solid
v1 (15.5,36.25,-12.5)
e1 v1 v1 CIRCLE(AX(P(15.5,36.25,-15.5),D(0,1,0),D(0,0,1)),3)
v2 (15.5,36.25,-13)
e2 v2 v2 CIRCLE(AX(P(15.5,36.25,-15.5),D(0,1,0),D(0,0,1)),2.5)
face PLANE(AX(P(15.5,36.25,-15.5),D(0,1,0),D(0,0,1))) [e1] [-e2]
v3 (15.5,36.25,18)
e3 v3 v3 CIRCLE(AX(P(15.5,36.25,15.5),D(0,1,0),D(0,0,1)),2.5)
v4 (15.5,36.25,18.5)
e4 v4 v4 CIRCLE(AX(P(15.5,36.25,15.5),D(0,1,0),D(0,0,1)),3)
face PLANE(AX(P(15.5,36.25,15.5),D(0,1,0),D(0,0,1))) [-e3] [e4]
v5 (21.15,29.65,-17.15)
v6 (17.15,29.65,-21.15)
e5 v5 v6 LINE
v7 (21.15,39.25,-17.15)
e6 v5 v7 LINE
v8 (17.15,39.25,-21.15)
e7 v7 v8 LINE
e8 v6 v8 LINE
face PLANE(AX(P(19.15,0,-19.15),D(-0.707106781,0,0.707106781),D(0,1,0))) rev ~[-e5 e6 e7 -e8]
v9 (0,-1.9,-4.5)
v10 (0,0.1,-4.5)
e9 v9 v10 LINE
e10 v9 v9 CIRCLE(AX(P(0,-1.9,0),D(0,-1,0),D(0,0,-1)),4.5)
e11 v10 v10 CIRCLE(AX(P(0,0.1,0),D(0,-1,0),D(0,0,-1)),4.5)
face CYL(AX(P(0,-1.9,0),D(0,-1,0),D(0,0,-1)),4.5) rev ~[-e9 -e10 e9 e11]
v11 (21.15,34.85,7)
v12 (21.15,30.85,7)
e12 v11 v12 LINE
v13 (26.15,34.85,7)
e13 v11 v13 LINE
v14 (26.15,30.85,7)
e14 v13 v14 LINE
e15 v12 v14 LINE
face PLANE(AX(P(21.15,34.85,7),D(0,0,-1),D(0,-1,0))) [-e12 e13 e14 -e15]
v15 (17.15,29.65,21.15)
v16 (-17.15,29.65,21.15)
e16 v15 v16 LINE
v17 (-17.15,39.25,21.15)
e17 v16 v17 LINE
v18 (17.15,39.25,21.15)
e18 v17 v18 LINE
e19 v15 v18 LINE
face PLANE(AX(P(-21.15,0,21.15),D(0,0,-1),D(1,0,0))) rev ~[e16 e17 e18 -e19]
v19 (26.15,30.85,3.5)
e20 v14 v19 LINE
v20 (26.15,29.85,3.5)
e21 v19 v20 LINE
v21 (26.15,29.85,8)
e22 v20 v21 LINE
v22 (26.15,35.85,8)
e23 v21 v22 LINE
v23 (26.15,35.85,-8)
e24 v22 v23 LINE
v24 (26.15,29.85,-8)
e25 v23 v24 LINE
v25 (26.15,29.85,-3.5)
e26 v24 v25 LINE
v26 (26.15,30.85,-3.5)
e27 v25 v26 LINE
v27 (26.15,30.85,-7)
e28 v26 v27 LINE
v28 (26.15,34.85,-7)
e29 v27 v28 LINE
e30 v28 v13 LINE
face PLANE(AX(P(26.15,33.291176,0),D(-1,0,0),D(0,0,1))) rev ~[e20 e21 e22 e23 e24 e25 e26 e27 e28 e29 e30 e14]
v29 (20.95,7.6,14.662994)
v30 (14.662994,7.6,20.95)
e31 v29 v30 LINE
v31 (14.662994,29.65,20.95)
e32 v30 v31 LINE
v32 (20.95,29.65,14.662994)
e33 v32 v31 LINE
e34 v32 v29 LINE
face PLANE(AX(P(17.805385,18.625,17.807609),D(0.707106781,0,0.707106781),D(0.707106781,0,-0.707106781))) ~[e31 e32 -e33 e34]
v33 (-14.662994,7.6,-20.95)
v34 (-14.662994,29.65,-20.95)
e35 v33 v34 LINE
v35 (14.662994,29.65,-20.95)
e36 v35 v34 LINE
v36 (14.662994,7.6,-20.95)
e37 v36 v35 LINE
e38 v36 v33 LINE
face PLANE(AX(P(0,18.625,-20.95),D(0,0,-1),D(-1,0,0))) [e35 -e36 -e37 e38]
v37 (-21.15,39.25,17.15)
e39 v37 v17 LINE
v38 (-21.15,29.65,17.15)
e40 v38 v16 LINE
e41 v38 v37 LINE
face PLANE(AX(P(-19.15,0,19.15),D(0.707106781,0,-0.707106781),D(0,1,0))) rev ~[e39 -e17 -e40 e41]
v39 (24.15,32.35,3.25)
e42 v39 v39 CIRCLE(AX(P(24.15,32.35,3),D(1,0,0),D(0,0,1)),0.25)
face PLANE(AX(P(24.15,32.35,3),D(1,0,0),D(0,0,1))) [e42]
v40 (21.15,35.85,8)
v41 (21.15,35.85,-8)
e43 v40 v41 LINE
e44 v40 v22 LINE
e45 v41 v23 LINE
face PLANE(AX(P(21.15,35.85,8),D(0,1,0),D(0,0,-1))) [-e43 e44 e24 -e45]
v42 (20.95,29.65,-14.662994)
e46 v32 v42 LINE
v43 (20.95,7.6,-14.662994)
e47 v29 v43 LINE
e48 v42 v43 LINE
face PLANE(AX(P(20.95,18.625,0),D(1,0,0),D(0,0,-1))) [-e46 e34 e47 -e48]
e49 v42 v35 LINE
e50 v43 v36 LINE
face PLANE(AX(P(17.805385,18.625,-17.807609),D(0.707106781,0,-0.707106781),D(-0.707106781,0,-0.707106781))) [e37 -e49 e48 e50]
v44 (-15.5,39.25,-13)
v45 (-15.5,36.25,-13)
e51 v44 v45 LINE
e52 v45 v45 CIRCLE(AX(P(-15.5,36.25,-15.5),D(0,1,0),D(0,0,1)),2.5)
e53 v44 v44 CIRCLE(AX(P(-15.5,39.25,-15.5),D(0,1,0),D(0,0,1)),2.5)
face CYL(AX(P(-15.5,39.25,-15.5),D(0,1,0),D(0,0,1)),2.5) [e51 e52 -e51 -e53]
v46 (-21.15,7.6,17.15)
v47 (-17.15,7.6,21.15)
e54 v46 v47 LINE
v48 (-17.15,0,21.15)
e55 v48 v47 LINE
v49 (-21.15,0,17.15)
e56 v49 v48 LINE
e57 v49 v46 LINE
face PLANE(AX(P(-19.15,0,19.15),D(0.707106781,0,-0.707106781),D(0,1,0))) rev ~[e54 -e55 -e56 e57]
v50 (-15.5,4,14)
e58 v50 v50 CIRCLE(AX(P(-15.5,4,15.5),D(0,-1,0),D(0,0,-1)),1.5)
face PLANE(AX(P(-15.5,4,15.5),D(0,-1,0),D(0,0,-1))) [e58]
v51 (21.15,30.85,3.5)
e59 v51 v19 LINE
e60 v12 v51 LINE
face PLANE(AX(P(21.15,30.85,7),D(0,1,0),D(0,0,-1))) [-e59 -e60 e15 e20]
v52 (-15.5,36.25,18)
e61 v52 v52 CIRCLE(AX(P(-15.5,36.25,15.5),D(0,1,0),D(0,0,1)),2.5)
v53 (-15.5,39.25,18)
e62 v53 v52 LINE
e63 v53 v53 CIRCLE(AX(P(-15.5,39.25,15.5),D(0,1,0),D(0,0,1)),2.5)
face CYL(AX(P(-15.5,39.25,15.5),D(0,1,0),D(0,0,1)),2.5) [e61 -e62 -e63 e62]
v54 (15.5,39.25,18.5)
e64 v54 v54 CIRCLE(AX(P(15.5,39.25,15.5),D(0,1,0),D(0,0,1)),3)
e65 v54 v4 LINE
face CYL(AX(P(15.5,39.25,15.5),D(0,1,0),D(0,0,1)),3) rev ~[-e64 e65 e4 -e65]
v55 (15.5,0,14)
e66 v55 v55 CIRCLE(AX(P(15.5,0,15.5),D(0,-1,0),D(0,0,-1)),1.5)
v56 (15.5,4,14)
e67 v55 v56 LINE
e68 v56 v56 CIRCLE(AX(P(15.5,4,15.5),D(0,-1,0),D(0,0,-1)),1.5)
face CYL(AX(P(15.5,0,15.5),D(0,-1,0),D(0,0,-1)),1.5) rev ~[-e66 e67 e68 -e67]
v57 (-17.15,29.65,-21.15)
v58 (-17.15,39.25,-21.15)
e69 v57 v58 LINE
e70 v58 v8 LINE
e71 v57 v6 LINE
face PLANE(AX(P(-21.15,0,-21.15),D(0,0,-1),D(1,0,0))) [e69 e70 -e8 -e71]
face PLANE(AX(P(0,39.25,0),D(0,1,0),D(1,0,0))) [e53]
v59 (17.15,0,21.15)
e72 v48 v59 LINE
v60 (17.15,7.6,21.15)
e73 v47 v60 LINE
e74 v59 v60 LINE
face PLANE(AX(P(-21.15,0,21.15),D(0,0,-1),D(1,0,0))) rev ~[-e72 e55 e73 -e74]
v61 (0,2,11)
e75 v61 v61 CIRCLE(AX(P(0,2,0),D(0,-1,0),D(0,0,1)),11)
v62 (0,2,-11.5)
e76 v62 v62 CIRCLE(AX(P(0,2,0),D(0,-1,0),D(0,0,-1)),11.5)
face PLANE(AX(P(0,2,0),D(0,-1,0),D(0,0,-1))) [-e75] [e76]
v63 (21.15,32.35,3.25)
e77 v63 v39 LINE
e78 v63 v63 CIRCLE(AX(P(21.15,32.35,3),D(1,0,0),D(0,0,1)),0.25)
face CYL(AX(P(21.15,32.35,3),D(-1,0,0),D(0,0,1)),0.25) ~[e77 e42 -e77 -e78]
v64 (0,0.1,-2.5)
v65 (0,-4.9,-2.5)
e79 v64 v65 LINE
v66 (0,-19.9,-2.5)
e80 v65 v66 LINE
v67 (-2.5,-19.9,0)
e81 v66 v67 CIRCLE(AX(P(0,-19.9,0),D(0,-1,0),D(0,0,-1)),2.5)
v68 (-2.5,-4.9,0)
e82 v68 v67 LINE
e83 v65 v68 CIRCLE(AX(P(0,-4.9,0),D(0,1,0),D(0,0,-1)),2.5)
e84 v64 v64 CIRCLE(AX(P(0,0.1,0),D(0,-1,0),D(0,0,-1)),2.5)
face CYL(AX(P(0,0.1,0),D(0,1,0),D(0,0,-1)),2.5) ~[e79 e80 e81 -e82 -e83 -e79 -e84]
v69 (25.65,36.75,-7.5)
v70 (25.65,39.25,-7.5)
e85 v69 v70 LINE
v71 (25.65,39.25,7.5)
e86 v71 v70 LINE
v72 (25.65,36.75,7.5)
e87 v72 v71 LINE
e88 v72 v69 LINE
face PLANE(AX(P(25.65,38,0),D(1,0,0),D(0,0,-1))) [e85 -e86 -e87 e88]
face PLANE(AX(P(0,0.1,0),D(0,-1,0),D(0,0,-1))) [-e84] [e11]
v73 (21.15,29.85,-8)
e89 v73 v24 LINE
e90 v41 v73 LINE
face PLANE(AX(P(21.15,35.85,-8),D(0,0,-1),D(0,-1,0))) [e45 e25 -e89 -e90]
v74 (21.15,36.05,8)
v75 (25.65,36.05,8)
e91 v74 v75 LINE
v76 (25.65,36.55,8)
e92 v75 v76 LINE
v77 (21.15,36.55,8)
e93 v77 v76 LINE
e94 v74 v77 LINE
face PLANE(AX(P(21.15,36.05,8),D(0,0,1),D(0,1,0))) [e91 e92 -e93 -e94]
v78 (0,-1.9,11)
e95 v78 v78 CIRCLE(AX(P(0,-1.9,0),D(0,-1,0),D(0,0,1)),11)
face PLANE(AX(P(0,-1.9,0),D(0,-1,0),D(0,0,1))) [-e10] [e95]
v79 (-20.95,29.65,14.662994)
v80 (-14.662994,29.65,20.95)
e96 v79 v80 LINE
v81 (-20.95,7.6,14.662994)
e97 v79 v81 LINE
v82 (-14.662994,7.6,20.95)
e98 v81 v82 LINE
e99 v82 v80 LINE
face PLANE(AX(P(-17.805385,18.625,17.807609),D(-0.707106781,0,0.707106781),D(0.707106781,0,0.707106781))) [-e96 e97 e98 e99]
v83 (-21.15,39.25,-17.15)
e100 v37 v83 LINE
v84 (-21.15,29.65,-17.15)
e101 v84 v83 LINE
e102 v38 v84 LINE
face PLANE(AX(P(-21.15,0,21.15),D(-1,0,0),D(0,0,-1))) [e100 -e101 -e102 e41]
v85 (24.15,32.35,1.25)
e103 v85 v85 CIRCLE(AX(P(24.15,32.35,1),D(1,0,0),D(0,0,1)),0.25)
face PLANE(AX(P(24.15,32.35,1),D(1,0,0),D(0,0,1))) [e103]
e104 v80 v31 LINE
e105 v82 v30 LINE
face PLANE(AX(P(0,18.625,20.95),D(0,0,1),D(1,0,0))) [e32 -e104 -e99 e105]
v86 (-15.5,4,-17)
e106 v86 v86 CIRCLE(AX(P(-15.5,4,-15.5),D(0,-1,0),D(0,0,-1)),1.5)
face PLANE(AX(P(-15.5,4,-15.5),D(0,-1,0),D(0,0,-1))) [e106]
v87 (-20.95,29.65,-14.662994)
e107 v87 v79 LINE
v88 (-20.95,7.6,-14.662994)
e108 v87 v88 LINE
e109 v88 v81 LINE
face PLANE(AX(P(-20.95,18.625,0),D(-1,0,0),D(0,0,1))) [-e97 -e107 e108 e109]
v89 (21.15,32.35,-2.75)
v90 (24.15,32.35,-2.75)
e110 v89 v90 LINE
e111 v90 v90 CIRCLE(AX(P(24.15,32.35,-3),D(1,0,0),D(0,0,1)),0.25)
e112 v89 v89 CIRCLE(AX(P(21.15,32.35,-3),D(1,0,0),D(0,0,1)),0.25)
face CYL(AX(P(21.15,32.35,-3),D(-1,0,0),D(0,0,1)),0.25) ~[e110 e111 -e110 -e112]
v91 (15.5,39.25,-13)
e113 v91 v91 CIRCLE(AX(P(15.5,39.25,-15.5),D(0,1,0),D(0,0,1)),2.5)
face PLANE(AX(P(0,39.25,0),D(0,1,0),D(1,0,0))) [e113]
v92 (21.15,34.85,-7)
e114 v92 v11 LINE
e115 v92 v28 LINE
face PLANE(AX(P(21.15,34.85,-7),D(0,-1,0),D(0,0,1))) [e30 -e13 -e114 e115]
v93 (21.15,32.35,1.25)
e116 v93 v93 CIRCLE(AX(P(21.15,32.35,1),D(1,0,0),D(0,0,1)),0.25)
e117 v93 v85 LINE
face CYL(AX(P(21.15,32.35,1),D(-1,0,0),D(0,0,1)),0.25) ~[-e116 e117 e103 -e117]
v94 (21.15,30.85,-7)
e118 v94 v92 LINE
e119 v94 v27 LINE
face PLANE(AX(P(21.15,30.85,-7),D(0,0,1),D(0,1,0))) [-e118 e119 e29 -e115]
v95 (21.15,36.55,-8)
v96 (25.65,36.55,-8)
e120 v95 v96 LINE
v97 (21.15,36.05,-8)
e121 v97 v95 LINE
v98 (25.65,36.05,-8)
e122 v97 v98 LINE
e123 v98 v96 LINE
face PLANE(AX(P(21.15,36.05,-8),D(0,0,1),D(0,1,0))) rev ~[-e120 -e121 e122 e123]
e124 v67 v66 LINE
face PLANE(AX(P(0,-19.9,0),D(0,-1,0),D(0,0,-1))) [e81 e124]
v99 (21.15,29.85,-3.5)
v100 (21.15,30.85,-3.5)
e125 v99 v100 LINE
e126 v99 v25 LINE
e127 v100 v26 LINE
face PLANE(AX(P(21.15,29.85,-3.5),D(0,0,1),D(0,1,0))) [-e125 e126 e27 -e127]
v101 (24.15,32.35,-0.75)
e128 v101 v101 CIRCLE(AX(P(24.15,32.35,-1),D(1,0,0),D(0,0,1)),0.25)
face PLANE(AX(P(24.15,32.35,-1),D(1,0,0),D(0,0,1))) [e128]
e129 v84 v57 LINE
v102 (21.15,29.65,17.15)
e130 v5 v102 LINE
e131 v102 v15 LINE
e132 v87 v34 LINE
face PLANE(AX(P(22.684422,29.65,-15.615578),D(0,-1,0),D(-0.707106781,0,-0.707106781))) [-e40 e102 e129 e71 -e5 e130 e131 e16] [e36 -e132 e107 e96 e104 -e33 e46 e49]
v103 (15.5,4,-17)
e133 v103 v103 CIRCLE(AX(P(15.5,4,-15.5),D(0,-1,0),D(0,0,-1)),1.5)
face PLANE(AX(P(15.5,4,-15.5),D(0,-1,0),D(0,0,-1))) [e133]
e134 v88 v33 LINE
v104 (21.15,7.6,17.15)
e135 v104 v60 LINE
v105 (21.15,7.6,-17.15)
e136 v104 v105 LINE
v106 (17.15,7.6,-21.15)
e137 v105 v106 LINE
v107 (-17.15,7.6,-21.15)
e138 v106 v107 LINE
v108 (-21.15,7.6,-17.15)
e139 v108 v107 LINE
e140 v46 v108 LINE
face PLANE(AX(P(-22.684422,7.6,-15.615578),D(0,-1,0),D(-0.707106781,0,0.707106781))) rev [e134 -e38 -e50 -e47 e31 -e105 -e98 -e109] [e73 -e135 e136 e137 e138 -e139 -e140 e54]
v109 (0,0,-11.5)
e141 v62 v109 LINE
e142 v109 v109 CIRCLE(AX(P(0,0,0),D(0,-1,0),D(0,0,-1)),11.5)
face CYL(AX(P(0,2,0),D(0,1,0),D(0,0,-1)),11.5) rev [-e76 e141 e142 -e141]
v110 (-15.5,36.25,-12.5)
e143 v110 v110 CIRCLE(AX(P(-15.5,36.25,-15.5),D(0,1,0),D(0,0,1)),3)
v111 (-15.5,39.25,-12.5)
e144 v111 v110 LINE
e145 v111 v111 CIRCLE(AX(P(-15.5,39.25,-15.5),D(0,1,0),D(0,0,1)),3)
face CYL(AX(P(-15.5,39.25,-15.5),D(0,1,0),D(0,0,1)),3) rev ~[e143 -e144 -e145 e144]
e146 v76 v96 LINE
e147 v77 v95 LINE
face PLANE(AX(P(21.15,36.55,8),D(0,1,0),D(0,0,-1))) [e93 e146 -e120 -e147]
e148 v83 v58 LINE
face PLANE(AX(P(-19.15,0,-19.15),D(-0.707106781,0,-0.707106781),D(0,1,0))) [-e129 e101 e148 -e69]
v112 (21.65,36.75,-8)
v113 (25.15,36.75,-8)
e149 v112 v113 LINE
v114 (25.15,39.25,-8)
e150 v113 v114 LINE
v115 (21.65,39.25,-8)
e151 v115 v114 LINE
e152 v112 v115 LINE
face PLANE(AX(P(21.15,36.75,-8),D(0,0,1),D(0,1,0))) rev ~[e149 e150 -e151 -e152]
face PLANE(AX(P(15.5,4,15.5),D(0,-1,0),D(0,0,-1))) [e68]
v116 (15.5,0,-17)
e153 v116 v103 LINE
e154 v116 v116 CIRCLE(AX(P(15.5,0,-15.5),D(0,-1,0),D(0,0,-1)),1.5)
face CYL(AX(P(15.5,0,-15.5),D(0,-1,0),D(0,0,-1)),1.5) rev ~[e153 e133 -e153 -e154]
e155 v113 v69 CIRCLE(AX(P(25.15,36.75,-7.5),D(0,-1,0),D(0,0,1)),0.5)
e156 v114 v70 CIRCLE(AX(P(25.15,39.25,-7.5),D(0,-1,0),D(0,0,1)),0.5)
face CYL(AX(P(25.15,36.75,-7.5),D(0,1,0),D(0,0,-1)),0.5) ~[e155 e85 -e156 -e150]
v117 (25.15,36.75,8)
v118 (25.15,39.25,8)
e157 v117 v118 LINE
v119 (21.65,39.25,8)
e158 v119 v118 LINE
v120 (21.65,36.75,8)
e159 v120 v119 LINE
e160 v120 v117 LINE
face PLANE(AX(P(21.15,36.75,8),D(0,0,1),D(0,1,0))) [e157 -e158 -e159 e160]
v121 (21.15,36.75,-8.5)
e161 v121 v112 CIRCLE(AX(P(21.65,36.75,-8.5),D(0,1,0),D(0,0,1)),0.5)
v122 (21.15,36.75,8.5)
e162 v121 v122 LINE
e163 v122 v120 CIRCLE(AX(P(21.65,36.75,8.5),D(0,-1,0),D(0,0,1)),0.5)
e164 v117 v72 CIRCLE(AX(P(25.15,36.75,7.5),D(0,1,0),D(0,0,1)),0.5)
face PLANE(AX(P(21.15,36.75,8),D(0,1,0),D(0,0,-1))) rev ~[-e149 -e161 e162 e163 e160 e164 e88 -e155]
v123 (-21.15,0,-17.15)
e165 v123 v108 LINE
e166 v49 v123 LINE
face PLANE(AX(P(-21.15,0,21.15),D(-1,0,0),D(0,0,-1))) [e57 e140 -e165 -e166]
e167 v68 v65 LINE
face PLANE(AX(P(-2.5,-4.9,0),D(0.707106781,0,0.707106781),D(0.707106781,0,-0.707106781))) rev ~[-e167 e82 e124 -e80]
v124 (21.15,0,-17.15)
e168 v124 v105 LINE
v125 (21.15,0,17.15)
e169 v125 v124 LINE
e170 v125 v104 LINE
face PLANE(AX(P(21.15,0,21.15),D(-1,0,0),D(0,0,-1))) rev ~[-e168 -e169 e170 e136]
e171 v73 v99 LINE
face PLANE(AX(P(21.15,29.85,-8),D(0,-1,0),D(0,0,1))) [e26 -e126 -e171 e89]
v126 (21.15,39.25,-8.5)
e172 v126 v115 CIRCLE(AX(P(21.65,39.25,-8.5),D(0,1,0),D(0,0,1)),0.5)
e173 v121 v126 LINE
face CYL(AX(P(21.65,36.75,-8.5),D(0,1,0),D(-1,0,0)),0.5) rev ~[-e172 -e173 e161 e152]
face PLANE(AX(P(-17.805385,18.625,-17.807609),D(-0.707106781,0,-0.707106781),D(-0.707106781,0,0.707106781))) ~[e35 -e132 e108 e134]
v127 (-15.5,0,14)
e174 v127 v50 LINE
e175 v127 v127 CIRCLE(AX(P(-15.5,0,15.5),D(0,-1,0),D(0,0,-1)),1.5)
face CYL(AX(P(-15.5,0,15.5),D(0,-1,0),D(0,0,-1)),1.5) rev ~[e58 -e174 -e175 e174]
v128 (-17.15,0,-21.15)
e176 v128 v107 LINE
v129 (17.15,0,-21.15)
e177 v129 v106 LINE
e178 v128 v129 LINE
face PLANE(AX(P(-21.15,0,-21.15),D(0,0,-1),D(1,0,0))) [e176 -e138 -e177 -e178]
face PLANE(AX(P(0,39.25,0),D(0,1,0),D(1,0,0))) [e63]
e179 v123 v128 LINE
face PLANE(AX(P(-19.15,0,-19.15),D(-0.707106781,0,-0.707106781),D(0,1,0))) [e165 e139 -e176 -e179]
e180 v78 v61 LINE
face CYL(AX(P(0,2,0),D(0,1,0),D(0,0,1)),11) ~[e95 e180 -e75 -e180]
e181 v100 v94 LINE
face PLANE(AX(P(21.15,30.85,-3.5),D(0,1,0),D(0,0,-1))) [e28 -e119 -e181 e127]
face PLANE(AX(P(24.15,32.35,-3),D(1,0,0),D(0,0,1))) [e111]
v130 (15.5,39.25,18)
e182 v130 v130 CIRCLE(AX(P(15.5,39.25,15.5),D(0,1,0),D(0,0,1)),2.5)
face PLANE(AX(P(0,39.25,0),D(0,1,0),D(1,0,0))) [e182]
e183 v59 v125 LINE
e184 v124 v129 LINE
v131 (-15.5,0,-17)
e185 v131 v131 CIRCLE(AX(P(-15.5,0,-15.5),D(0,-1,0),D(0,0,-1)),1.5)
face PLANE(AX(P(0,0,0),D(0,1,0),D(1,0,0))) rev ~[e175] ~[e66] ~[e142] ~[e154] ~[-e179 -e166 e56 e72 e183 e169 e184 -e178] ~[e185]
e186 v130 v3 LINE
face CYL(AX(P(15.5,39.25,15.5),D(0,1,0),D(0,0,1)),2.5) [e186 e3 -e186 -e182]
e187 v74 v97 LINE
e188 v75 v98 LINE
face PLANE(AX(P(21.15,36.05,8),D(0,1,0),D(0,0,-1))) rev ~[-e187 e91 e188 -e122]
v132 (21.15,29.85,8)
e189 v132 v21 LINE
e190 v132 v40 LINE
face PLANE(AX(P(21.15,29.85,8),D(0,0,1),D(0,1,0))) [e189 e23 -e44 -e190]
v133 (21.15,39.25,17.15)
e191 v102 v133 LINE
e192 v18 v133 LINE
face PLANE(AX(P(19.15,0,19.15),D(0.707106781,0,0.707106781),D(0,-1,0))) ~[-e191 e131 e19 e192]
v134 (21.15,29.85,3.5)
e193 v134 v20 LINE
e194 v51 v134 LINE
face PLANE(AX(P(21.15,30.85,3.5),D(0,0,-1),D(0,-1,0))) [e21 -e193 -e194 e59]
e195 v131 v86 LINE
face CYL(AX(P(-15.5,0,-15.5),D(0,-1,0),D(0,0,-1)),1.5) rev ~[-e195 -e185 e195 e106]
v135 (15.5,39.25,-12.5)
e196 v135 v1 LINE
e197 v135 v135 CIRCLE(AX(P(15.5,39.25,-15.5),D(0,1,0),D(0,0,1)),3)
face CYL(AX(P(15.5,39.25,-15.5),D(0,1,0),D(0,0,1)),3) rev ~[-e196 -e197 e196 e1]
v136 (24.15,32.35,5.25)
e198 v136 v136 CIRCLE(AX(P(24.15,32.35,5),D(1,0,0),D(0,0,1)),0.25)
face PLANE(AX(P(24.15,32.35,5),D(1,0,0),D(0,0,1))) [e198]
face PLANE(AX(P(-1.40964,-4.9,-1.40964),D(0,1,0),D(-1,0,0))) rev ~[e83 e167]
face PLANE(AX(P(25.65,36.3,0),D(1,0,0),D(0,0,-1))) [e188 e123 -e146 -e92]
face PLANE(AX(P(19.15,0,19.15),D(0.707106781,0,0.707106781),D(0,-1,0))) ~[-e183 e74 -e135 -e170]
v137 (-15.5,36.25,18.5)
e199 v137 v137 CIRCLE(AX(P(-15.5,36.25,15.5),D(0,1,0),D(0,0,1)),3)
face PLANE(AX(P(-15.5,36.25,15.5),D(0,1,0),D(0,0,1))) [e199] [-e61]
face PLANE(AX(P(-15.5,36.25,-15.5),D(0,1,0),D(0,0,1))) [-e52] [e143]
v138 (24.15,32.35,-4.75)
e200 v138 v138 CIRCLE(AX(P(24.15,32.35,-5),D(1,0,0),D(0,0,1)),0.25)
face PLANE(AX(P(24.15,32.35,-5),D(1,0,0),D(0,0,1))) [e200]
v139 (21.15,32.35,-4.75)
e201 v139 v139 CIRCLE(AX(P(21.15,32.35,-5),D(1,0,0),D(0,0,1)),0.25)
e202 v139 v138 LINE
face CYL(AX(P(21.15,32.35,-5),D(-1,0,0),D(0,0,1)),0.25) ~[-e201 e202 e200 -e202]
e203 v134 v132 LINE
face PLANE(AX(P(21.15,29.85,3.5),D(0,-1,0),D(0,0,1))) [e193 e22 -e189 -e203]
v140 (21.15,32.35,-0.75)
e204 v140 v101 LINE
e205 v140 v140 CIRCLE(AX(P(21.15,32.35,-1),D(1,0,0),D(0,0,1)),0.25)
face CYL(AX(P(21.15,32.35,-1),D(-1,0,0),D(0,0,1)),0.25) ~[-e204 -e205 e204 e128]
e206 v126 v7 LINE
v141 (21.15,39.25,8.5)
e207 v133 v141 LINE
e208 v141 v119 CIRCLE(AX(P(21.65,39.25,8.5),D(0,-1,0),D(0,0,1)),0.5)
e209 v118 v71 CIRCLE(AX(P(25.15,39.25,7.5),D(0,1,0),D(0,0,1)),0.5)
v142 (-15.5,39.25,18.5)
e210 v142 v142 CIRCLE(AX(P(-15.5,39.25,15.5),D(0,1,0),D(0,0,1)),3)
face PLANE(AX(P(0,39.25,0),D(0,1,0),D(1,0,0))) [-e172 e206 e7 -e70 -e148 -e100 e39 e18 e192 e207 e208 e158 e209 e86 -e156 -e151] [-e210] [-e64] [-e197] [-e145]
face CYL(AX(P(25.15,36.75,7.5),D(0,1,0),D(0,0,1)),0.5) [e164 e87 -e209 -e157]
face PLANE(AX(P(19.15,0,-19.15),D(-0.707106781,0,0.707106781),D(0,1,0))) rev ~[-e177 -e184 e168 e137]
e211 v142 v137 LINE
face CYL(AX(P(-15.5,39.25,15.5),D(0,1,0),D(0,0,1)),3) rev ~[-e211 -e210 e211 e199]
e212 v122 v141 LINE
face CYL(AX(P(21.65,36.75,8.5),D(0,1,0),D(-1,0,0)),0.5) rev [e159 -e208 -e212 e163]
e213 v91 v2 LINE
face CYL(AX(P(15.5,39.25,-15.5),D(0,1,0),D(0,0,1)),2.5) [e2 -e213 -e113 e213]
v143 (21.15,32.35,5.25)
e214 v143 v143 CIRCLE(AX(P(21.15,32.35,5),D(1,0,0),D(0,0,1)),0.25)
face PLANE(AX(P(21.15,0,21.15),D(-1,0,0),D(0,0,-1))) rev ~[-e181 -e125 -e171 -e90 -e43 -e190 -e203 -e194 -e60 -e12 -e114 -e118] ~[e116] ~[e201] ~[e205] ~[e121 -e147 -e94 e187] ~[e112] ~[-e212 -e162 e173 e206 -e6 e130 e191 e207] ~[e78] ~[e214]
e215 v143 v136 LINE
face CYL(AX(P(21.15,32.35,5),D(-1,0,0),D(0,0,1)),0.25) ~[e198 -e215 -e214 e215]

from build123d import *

# Parameters (mm, degrees)
SKETCH1_W               = 42.3
SKETCH1_H               = 42.3
BOSS_EXTRUDE1_DEPTH     = 39.25
CHAMFER1_SIZE           = 4
SKETCH2_W               = 10
SKETCH2_H               = 22.05
CUT_EXTRUDE1_DEPTH      = 1.9
MIRROR2_COPY_1_SKETCH_W = 10
MIRROR2_COPY_1_SKETCH_H = 22.05
MIRROR2_COPY_1_DEPTH    = 1.9
SKETCH3_R               = 11
BOSS_EXTRUDE2_DEPTH     = 1.9
CUT_EXTRUDE2_START      = -2
SKETCH4_R               = 11.5
SKETCH4_R_2             = 11
CUT_EXTRUDE2_DEPTH      = 2
SKETCH5_R               = 4.5
CUT_EXTRUDE3_DEPTH      = 2
SKETCH6_R               = 2.5
BOSS_EXTRUDE3_DEPTH     = 20
CUT_EXTRUDE4_START      = -15
CUT_EXTRUDE4_DEPTH      = 15
SKETCH8_R               = 1.5
CUT_EXTRUDE5_DEPTH      = 4
SKETCH10_W              = 30.925988462
SKETCH10_H              = 22.05
CUT_EXTRUDE6_DEPTH      = 0.2
CIRPATTERN1_COUNT       = 4
SKETCH11_W              = 16
SKETCH11_H              = 2.5
BOSS_EXTRUDE4_DEPTH     = 4.5
FILLET1_R               = 0.5
SKETCH12_W              = 16
SKETCH12_H              = 0.5
BOSS_EXTRUDE5_DEPTH     = 4.5
BOSS_EXTRUDE6_DEPTH     = 5
SKETCH14_R              = 0.25
BOSS_EXTRUDE7_DEPTH     = 3
SKETCH15_R              = 3
SKETCH15_R_2            = 2.5
CUT_EXTRUDE7_DEPTH      = 3


with BuildPart() as part:
    # Sketch1 → Boss-Extrude1 (new body)
    with BuildSketch(Plane(origin=(0, 0, 0), x_dir=(1, 0, 0), z_dir=(0, 1, 0))):
        Rectangle(SKETCH1_W, SKETCH1_H)
    extrude(amount=BOSS_EXTRUDE1_DEPTH)

    # Chamfer1
    chamfer1_edges = [part.edges().sort_by_distance(p)[0] for p in [
        (21.15, 19.625, 21.15),
        (-21.15, 19.625, 21.15),
        (-21.15, 19.625, -21.15),
        (21.15, 19.625, -21.15),
    ]]
    chamfer(chamfer1_edges, length=CHAMFER1_SIZE)

    # Sketch2 → Cut-Extrude1 (cut)
    with BuildSketch(Plane(origin=(19.15, 0, -19.15), x_dir=(-0.7071067811865462, 0, -0.7071067811865488), z_dir=(0.7071067811865488, 0, -0.7071067811865462))):
        with Locations((0.001572875, 18.625)):
            Rectangle(SKETCH2_W, SKETCH2_H)
    cut_extrude1 = extrude(amount=-CUT_EXTRUDE1_DEPTH, mode=Mode.SUBTRACT)

    # Mirror1: Cut-Extrude1 across plane
    add(cut_extrude1.mirror(Plane.XY), mode=Mode.SUBTRACT)

    # Mirror2: Cut-Extrude1 across plane
    add(cut_extrude1.mirror(Plane(origin=(0, 0, 0), x_dir=(0, 0, 1), z_dir=(1, 0, 0))), mode=Mode.SUBTRACT)

    # Mirror2 copy 1 sketch → Mirror2 copy 1 (cut)
    with BuildSketch(Plane(origin=(-19.15, 0, 19.15), x_dir=(0.7071067811865462, 0, 0.7071067811865488), z_dir=(-0.7071067811865488, 0, 0.7071067811865462))):
        with Locations((0.001572875, 18.625)):
            Rectangle(MIRROR2_COPY_1_SKETCH_W, MIRROR2_COPY_1_SKETCH_H)
    extrude(amount=-MIRROR2_COPY_1_DEPTH, mode=Mode.SUBTRACT)

    # Sketch3 → Boss-Extrude2 (add)
    with BuildSketch(Plane.XZ):
        with Locations(Location((0, 0, 0), (0, 0, 90))):
            Circle(SKETCH3_R)
    extrude(amount=BOSS_EXTRUDE2_DEPTH)

    # Sketch4 → Cut-Extrude2 (cut)
    with BuildSketch(Plane.XZ.offset(CUT_EXTRUDE2_START)):
        with Locations(Location((0, 0, 0), (0, 0, 270))):
            Circle(SKETCH4_R)
        with Locations(Location((0, 0, 0), (0, 0, 90))):
            Circle(SKETCH4_R_2, mode=Mode.SUBTRACT)
    extrude(amount=CUT_EXTRUDE2_DEPTH, mode=Mode.SUBTRACT)

    # Sketch5 → Cut-Extrude3 (cut)
    with BuildSketch(Plane.XZ.offset(1.9)):
        with Locations(Location((0, 0, 0), (0, 0, 270))):
            Circle(SKETCH5_R)
    extrude(amount=-CUT_EXTRUDE3_DEPTH, mode=Mode.SUBTRACT)

    # Sketch6 → Boss-Extrude3 (add)
    with BuildSketch(Plane.XZ.offset(-0.1)):
        with Locations(Location((0, 0, 0), (0, 0, 270))):
            Circle(SKETCH6_R)
    extrude(amount=BOSS_EXTRUDE3_DEPTH)

    # Sketch7 → Cut-Extrude4 (cut)
    with BuildSketch(Plane.XZ.offset(19.9).offset(CUT_EXTRUDE4_START)):
        with BuildLine():
            Line((-2.5, 0), (0, -2.5))
            ThreePointArc((0, -2.5), (-1.767766953, -1.767766953), (-2.5, 0))
        make_face()
    extrude(amount=CUT_EXTRUDE4_DEPTH, mode=Mode.SUBTRACT)

    # Sketch8 → Cut-Extrude5 (cut)
    with BuildSketch(Plane.XZ):
        with Locations(Location((-15.5, 15.5, 0), (0, 0, 270))):
            Circle(SKETCH8_R)
        with Locations(Location((15.5, 15.5, 0), (0, 0, 270))):
            Circle(SKETCH8_R)
        with Locations(Location((15.5, -15.5, 0), (0, 0, 270))):
            Circle(SKETCH8_R)
        with Locations(Location((-15.5, -15.5, 0), (0, 0, 270))):
            Circle(SKETCH8_R)
    extrude(amount=-CUT_EXTRUDE5_DEPTH, mode=Mode.SUBTRACT)

    # Sketch10 → Cut-Extrude6 (cut)
    with BuildSketch(Plane.ZY.offset(21.15)):
        with Locations((0, 18.625)):
            Rectangle(SKETCH10_W, SKETCH10_H)
    cut_extrude6 = extrude(amount=-CUT_EXTRUDE6_DEPTH, mode=Mode.SUBTRACT)

    # CirPattern1: Cut-Extrude6 ×4 about axis
    cirpattern1_axis = Axis((0, 0, 0), (0, 1, 0))
    for i in range(1, CIRPATTERN1_COUNT):
        add(cut_extrude6.rotate(cirpattern1_axis, i * 360 / CIRPATTERN1_COUNT), mode=Mode.SUBTRACT)

    # Sketch11 → Boss-Extrude4 (add)
    with BuildSketch(Plane(origin=(21.15, 0, 0), x_dir=(0, 0, -1), z_dir=(1, 0, 0))):
        with Locations((0, 38)):
            Rectangle(SKETCH11_W, SKETCH11_H)
    extrude(amount=BOSS_EXTRUDE4_DEPTH)

    # Fillet1
    fillet1_edges = [part.edges().sort_by_distance(p)[0] for p in [
        (21.15, 38, 8),
        (21.15, 38, -8),
        (25.65, 38, 8),
        (25.65, 38, -8),
    ]]
    fillet(fillet1_edges, radius=FILLET1_R)

    # Sketch12 → Boss-Extrude5 (add)
    with BuildSketch(Plane(origin=(21.15, 0, 0), x_dir=(0, 0, -1), z_dir=(1, 0, 0))):
        with Locations((0, 36.3)):
            Rectangle(SKETCH12_W, SKETCH12_H)
    extrude(amount=BOSS_EXTRUDE5_DEPTH)

    # Sketch13 → Boss-Extrude6 (add)
    with BuildSketch(Plane(origin=(21.15, 0, 0), x_dir=(0, 0, -1), z_dir=(1, 0, 0))):
        Polygon((-3.5, 30.85), (-3.5, 29.85), (-8, 29.85), (-8, 35.85), (8, 35.85), (8, 29.85), (3.5, 29.85), (3.5, 30.85), (7, 30.85), (7, 34.85), (-7, 34.85), (-7, 30.85), align=None)
    extrude(amount=BOSS_EXTRUDE6_DEPTH)

    # Sketch14 → Boss-Extrude7 (add)
    with BuildSketch(Plane(origin=(21.15, 0, 0), x_dir=(0, 0, -1), z_dir=(1, 0, 0))):
        with Locations(Location((-5, 32.35, 0), (0, 0, 180))):
            Circle(SKETCH14_R)
        with Locations(Location((-3, 32.35, 0), (0, 0, 180))):
            Circle(SKETCH14_R)
        with Locations(Location((-1, 32.35, 0), (0, 0, 180))):
            Circle(SKETCH14_R)
        with Locations(Location((1, 32.35, 0), (0, 0, 180))):
            Circle(SKETCH14_R)
        with Locations(Location((3, 32.35, 0), (0, 0, 180))):
            Circle(SKETCH14_R)
        with Locations(Location((5, 32.35, 0), (0, 0, 180))):
            Circle(SKETCH14_R)
    extrude(amount=BOSS_EXTRUDE7_DEPTH)

    # Sketch15 → Cut-Extrude7 (cut)
    # profile 1 of 4: a face of its own
    with BuildSketch(Plane(origin=(0, 39.25, 0), x_dir=(1, 0, 0), z_dir=(0, 1, 0))):
        with Locations(Location((-15.5, 15.5, 0), (0, 0, 270))):
            Circle(SKETCH15_R)
        with Locations(Location((-15.5, 15.5, 0), (0, 0, 270))):
            Circle(SKETCH15_R_2, mode=Mode.SUBTRACT)
    # profile 2 of 4: a face of its own
    with BuildSketch(Plane(origin=(0, 39.25, 0), x_dir=(1, 0, 0), z_dir=(0, 1, 0))):
        with Locations(Location((15.5, 15.5, 0), (0, 0, 270))):
            Circle(SKETCH15_R)
        with Locations(Location((15.5, 15.5, 0), (0, 0, 270))):
            Circle(SKETCH15_R_2, mode=Mode.SUBTRACT)
    # profile 3 of 4: a face of its own
    with BuildSketch(Plane(origin=(0, 39.25, 0), x_dir=(1, 0, 0), z_dir=(0, 1, 0))):
        with Locations(Location((15.5, -15.5, 0), (0, 0, 270))):
            Circle(SKETCH15_R)
        with Locations(Location((15.5, -15.5, 0), (0, 0, 270))):
            Circle(SKETCH15_R_2, mode=Mode.SUBTRACT)
    # profile 4 of 4: a face of its own
    with BuildSketch(Plane(origin=(0, 39.25, 0), x_dir=(1, 0, 0), z_dir=(0, 1, 0))):
        with Locations(Location((-15.5, -15.5, 0), (0, 0, 270))):
            Circle(SKETCH15_R)
        with Locations(Location((-15.5, -15.5, 0), (0, 0, 270))):
            Circle(SKETCH15_R_2, mode=Mode.SUBTRACT)
    extrude(amount=-CUT_EXTRUDE7_DEPTH, mode=Mode.SUBTRACT)


solid = part.part
